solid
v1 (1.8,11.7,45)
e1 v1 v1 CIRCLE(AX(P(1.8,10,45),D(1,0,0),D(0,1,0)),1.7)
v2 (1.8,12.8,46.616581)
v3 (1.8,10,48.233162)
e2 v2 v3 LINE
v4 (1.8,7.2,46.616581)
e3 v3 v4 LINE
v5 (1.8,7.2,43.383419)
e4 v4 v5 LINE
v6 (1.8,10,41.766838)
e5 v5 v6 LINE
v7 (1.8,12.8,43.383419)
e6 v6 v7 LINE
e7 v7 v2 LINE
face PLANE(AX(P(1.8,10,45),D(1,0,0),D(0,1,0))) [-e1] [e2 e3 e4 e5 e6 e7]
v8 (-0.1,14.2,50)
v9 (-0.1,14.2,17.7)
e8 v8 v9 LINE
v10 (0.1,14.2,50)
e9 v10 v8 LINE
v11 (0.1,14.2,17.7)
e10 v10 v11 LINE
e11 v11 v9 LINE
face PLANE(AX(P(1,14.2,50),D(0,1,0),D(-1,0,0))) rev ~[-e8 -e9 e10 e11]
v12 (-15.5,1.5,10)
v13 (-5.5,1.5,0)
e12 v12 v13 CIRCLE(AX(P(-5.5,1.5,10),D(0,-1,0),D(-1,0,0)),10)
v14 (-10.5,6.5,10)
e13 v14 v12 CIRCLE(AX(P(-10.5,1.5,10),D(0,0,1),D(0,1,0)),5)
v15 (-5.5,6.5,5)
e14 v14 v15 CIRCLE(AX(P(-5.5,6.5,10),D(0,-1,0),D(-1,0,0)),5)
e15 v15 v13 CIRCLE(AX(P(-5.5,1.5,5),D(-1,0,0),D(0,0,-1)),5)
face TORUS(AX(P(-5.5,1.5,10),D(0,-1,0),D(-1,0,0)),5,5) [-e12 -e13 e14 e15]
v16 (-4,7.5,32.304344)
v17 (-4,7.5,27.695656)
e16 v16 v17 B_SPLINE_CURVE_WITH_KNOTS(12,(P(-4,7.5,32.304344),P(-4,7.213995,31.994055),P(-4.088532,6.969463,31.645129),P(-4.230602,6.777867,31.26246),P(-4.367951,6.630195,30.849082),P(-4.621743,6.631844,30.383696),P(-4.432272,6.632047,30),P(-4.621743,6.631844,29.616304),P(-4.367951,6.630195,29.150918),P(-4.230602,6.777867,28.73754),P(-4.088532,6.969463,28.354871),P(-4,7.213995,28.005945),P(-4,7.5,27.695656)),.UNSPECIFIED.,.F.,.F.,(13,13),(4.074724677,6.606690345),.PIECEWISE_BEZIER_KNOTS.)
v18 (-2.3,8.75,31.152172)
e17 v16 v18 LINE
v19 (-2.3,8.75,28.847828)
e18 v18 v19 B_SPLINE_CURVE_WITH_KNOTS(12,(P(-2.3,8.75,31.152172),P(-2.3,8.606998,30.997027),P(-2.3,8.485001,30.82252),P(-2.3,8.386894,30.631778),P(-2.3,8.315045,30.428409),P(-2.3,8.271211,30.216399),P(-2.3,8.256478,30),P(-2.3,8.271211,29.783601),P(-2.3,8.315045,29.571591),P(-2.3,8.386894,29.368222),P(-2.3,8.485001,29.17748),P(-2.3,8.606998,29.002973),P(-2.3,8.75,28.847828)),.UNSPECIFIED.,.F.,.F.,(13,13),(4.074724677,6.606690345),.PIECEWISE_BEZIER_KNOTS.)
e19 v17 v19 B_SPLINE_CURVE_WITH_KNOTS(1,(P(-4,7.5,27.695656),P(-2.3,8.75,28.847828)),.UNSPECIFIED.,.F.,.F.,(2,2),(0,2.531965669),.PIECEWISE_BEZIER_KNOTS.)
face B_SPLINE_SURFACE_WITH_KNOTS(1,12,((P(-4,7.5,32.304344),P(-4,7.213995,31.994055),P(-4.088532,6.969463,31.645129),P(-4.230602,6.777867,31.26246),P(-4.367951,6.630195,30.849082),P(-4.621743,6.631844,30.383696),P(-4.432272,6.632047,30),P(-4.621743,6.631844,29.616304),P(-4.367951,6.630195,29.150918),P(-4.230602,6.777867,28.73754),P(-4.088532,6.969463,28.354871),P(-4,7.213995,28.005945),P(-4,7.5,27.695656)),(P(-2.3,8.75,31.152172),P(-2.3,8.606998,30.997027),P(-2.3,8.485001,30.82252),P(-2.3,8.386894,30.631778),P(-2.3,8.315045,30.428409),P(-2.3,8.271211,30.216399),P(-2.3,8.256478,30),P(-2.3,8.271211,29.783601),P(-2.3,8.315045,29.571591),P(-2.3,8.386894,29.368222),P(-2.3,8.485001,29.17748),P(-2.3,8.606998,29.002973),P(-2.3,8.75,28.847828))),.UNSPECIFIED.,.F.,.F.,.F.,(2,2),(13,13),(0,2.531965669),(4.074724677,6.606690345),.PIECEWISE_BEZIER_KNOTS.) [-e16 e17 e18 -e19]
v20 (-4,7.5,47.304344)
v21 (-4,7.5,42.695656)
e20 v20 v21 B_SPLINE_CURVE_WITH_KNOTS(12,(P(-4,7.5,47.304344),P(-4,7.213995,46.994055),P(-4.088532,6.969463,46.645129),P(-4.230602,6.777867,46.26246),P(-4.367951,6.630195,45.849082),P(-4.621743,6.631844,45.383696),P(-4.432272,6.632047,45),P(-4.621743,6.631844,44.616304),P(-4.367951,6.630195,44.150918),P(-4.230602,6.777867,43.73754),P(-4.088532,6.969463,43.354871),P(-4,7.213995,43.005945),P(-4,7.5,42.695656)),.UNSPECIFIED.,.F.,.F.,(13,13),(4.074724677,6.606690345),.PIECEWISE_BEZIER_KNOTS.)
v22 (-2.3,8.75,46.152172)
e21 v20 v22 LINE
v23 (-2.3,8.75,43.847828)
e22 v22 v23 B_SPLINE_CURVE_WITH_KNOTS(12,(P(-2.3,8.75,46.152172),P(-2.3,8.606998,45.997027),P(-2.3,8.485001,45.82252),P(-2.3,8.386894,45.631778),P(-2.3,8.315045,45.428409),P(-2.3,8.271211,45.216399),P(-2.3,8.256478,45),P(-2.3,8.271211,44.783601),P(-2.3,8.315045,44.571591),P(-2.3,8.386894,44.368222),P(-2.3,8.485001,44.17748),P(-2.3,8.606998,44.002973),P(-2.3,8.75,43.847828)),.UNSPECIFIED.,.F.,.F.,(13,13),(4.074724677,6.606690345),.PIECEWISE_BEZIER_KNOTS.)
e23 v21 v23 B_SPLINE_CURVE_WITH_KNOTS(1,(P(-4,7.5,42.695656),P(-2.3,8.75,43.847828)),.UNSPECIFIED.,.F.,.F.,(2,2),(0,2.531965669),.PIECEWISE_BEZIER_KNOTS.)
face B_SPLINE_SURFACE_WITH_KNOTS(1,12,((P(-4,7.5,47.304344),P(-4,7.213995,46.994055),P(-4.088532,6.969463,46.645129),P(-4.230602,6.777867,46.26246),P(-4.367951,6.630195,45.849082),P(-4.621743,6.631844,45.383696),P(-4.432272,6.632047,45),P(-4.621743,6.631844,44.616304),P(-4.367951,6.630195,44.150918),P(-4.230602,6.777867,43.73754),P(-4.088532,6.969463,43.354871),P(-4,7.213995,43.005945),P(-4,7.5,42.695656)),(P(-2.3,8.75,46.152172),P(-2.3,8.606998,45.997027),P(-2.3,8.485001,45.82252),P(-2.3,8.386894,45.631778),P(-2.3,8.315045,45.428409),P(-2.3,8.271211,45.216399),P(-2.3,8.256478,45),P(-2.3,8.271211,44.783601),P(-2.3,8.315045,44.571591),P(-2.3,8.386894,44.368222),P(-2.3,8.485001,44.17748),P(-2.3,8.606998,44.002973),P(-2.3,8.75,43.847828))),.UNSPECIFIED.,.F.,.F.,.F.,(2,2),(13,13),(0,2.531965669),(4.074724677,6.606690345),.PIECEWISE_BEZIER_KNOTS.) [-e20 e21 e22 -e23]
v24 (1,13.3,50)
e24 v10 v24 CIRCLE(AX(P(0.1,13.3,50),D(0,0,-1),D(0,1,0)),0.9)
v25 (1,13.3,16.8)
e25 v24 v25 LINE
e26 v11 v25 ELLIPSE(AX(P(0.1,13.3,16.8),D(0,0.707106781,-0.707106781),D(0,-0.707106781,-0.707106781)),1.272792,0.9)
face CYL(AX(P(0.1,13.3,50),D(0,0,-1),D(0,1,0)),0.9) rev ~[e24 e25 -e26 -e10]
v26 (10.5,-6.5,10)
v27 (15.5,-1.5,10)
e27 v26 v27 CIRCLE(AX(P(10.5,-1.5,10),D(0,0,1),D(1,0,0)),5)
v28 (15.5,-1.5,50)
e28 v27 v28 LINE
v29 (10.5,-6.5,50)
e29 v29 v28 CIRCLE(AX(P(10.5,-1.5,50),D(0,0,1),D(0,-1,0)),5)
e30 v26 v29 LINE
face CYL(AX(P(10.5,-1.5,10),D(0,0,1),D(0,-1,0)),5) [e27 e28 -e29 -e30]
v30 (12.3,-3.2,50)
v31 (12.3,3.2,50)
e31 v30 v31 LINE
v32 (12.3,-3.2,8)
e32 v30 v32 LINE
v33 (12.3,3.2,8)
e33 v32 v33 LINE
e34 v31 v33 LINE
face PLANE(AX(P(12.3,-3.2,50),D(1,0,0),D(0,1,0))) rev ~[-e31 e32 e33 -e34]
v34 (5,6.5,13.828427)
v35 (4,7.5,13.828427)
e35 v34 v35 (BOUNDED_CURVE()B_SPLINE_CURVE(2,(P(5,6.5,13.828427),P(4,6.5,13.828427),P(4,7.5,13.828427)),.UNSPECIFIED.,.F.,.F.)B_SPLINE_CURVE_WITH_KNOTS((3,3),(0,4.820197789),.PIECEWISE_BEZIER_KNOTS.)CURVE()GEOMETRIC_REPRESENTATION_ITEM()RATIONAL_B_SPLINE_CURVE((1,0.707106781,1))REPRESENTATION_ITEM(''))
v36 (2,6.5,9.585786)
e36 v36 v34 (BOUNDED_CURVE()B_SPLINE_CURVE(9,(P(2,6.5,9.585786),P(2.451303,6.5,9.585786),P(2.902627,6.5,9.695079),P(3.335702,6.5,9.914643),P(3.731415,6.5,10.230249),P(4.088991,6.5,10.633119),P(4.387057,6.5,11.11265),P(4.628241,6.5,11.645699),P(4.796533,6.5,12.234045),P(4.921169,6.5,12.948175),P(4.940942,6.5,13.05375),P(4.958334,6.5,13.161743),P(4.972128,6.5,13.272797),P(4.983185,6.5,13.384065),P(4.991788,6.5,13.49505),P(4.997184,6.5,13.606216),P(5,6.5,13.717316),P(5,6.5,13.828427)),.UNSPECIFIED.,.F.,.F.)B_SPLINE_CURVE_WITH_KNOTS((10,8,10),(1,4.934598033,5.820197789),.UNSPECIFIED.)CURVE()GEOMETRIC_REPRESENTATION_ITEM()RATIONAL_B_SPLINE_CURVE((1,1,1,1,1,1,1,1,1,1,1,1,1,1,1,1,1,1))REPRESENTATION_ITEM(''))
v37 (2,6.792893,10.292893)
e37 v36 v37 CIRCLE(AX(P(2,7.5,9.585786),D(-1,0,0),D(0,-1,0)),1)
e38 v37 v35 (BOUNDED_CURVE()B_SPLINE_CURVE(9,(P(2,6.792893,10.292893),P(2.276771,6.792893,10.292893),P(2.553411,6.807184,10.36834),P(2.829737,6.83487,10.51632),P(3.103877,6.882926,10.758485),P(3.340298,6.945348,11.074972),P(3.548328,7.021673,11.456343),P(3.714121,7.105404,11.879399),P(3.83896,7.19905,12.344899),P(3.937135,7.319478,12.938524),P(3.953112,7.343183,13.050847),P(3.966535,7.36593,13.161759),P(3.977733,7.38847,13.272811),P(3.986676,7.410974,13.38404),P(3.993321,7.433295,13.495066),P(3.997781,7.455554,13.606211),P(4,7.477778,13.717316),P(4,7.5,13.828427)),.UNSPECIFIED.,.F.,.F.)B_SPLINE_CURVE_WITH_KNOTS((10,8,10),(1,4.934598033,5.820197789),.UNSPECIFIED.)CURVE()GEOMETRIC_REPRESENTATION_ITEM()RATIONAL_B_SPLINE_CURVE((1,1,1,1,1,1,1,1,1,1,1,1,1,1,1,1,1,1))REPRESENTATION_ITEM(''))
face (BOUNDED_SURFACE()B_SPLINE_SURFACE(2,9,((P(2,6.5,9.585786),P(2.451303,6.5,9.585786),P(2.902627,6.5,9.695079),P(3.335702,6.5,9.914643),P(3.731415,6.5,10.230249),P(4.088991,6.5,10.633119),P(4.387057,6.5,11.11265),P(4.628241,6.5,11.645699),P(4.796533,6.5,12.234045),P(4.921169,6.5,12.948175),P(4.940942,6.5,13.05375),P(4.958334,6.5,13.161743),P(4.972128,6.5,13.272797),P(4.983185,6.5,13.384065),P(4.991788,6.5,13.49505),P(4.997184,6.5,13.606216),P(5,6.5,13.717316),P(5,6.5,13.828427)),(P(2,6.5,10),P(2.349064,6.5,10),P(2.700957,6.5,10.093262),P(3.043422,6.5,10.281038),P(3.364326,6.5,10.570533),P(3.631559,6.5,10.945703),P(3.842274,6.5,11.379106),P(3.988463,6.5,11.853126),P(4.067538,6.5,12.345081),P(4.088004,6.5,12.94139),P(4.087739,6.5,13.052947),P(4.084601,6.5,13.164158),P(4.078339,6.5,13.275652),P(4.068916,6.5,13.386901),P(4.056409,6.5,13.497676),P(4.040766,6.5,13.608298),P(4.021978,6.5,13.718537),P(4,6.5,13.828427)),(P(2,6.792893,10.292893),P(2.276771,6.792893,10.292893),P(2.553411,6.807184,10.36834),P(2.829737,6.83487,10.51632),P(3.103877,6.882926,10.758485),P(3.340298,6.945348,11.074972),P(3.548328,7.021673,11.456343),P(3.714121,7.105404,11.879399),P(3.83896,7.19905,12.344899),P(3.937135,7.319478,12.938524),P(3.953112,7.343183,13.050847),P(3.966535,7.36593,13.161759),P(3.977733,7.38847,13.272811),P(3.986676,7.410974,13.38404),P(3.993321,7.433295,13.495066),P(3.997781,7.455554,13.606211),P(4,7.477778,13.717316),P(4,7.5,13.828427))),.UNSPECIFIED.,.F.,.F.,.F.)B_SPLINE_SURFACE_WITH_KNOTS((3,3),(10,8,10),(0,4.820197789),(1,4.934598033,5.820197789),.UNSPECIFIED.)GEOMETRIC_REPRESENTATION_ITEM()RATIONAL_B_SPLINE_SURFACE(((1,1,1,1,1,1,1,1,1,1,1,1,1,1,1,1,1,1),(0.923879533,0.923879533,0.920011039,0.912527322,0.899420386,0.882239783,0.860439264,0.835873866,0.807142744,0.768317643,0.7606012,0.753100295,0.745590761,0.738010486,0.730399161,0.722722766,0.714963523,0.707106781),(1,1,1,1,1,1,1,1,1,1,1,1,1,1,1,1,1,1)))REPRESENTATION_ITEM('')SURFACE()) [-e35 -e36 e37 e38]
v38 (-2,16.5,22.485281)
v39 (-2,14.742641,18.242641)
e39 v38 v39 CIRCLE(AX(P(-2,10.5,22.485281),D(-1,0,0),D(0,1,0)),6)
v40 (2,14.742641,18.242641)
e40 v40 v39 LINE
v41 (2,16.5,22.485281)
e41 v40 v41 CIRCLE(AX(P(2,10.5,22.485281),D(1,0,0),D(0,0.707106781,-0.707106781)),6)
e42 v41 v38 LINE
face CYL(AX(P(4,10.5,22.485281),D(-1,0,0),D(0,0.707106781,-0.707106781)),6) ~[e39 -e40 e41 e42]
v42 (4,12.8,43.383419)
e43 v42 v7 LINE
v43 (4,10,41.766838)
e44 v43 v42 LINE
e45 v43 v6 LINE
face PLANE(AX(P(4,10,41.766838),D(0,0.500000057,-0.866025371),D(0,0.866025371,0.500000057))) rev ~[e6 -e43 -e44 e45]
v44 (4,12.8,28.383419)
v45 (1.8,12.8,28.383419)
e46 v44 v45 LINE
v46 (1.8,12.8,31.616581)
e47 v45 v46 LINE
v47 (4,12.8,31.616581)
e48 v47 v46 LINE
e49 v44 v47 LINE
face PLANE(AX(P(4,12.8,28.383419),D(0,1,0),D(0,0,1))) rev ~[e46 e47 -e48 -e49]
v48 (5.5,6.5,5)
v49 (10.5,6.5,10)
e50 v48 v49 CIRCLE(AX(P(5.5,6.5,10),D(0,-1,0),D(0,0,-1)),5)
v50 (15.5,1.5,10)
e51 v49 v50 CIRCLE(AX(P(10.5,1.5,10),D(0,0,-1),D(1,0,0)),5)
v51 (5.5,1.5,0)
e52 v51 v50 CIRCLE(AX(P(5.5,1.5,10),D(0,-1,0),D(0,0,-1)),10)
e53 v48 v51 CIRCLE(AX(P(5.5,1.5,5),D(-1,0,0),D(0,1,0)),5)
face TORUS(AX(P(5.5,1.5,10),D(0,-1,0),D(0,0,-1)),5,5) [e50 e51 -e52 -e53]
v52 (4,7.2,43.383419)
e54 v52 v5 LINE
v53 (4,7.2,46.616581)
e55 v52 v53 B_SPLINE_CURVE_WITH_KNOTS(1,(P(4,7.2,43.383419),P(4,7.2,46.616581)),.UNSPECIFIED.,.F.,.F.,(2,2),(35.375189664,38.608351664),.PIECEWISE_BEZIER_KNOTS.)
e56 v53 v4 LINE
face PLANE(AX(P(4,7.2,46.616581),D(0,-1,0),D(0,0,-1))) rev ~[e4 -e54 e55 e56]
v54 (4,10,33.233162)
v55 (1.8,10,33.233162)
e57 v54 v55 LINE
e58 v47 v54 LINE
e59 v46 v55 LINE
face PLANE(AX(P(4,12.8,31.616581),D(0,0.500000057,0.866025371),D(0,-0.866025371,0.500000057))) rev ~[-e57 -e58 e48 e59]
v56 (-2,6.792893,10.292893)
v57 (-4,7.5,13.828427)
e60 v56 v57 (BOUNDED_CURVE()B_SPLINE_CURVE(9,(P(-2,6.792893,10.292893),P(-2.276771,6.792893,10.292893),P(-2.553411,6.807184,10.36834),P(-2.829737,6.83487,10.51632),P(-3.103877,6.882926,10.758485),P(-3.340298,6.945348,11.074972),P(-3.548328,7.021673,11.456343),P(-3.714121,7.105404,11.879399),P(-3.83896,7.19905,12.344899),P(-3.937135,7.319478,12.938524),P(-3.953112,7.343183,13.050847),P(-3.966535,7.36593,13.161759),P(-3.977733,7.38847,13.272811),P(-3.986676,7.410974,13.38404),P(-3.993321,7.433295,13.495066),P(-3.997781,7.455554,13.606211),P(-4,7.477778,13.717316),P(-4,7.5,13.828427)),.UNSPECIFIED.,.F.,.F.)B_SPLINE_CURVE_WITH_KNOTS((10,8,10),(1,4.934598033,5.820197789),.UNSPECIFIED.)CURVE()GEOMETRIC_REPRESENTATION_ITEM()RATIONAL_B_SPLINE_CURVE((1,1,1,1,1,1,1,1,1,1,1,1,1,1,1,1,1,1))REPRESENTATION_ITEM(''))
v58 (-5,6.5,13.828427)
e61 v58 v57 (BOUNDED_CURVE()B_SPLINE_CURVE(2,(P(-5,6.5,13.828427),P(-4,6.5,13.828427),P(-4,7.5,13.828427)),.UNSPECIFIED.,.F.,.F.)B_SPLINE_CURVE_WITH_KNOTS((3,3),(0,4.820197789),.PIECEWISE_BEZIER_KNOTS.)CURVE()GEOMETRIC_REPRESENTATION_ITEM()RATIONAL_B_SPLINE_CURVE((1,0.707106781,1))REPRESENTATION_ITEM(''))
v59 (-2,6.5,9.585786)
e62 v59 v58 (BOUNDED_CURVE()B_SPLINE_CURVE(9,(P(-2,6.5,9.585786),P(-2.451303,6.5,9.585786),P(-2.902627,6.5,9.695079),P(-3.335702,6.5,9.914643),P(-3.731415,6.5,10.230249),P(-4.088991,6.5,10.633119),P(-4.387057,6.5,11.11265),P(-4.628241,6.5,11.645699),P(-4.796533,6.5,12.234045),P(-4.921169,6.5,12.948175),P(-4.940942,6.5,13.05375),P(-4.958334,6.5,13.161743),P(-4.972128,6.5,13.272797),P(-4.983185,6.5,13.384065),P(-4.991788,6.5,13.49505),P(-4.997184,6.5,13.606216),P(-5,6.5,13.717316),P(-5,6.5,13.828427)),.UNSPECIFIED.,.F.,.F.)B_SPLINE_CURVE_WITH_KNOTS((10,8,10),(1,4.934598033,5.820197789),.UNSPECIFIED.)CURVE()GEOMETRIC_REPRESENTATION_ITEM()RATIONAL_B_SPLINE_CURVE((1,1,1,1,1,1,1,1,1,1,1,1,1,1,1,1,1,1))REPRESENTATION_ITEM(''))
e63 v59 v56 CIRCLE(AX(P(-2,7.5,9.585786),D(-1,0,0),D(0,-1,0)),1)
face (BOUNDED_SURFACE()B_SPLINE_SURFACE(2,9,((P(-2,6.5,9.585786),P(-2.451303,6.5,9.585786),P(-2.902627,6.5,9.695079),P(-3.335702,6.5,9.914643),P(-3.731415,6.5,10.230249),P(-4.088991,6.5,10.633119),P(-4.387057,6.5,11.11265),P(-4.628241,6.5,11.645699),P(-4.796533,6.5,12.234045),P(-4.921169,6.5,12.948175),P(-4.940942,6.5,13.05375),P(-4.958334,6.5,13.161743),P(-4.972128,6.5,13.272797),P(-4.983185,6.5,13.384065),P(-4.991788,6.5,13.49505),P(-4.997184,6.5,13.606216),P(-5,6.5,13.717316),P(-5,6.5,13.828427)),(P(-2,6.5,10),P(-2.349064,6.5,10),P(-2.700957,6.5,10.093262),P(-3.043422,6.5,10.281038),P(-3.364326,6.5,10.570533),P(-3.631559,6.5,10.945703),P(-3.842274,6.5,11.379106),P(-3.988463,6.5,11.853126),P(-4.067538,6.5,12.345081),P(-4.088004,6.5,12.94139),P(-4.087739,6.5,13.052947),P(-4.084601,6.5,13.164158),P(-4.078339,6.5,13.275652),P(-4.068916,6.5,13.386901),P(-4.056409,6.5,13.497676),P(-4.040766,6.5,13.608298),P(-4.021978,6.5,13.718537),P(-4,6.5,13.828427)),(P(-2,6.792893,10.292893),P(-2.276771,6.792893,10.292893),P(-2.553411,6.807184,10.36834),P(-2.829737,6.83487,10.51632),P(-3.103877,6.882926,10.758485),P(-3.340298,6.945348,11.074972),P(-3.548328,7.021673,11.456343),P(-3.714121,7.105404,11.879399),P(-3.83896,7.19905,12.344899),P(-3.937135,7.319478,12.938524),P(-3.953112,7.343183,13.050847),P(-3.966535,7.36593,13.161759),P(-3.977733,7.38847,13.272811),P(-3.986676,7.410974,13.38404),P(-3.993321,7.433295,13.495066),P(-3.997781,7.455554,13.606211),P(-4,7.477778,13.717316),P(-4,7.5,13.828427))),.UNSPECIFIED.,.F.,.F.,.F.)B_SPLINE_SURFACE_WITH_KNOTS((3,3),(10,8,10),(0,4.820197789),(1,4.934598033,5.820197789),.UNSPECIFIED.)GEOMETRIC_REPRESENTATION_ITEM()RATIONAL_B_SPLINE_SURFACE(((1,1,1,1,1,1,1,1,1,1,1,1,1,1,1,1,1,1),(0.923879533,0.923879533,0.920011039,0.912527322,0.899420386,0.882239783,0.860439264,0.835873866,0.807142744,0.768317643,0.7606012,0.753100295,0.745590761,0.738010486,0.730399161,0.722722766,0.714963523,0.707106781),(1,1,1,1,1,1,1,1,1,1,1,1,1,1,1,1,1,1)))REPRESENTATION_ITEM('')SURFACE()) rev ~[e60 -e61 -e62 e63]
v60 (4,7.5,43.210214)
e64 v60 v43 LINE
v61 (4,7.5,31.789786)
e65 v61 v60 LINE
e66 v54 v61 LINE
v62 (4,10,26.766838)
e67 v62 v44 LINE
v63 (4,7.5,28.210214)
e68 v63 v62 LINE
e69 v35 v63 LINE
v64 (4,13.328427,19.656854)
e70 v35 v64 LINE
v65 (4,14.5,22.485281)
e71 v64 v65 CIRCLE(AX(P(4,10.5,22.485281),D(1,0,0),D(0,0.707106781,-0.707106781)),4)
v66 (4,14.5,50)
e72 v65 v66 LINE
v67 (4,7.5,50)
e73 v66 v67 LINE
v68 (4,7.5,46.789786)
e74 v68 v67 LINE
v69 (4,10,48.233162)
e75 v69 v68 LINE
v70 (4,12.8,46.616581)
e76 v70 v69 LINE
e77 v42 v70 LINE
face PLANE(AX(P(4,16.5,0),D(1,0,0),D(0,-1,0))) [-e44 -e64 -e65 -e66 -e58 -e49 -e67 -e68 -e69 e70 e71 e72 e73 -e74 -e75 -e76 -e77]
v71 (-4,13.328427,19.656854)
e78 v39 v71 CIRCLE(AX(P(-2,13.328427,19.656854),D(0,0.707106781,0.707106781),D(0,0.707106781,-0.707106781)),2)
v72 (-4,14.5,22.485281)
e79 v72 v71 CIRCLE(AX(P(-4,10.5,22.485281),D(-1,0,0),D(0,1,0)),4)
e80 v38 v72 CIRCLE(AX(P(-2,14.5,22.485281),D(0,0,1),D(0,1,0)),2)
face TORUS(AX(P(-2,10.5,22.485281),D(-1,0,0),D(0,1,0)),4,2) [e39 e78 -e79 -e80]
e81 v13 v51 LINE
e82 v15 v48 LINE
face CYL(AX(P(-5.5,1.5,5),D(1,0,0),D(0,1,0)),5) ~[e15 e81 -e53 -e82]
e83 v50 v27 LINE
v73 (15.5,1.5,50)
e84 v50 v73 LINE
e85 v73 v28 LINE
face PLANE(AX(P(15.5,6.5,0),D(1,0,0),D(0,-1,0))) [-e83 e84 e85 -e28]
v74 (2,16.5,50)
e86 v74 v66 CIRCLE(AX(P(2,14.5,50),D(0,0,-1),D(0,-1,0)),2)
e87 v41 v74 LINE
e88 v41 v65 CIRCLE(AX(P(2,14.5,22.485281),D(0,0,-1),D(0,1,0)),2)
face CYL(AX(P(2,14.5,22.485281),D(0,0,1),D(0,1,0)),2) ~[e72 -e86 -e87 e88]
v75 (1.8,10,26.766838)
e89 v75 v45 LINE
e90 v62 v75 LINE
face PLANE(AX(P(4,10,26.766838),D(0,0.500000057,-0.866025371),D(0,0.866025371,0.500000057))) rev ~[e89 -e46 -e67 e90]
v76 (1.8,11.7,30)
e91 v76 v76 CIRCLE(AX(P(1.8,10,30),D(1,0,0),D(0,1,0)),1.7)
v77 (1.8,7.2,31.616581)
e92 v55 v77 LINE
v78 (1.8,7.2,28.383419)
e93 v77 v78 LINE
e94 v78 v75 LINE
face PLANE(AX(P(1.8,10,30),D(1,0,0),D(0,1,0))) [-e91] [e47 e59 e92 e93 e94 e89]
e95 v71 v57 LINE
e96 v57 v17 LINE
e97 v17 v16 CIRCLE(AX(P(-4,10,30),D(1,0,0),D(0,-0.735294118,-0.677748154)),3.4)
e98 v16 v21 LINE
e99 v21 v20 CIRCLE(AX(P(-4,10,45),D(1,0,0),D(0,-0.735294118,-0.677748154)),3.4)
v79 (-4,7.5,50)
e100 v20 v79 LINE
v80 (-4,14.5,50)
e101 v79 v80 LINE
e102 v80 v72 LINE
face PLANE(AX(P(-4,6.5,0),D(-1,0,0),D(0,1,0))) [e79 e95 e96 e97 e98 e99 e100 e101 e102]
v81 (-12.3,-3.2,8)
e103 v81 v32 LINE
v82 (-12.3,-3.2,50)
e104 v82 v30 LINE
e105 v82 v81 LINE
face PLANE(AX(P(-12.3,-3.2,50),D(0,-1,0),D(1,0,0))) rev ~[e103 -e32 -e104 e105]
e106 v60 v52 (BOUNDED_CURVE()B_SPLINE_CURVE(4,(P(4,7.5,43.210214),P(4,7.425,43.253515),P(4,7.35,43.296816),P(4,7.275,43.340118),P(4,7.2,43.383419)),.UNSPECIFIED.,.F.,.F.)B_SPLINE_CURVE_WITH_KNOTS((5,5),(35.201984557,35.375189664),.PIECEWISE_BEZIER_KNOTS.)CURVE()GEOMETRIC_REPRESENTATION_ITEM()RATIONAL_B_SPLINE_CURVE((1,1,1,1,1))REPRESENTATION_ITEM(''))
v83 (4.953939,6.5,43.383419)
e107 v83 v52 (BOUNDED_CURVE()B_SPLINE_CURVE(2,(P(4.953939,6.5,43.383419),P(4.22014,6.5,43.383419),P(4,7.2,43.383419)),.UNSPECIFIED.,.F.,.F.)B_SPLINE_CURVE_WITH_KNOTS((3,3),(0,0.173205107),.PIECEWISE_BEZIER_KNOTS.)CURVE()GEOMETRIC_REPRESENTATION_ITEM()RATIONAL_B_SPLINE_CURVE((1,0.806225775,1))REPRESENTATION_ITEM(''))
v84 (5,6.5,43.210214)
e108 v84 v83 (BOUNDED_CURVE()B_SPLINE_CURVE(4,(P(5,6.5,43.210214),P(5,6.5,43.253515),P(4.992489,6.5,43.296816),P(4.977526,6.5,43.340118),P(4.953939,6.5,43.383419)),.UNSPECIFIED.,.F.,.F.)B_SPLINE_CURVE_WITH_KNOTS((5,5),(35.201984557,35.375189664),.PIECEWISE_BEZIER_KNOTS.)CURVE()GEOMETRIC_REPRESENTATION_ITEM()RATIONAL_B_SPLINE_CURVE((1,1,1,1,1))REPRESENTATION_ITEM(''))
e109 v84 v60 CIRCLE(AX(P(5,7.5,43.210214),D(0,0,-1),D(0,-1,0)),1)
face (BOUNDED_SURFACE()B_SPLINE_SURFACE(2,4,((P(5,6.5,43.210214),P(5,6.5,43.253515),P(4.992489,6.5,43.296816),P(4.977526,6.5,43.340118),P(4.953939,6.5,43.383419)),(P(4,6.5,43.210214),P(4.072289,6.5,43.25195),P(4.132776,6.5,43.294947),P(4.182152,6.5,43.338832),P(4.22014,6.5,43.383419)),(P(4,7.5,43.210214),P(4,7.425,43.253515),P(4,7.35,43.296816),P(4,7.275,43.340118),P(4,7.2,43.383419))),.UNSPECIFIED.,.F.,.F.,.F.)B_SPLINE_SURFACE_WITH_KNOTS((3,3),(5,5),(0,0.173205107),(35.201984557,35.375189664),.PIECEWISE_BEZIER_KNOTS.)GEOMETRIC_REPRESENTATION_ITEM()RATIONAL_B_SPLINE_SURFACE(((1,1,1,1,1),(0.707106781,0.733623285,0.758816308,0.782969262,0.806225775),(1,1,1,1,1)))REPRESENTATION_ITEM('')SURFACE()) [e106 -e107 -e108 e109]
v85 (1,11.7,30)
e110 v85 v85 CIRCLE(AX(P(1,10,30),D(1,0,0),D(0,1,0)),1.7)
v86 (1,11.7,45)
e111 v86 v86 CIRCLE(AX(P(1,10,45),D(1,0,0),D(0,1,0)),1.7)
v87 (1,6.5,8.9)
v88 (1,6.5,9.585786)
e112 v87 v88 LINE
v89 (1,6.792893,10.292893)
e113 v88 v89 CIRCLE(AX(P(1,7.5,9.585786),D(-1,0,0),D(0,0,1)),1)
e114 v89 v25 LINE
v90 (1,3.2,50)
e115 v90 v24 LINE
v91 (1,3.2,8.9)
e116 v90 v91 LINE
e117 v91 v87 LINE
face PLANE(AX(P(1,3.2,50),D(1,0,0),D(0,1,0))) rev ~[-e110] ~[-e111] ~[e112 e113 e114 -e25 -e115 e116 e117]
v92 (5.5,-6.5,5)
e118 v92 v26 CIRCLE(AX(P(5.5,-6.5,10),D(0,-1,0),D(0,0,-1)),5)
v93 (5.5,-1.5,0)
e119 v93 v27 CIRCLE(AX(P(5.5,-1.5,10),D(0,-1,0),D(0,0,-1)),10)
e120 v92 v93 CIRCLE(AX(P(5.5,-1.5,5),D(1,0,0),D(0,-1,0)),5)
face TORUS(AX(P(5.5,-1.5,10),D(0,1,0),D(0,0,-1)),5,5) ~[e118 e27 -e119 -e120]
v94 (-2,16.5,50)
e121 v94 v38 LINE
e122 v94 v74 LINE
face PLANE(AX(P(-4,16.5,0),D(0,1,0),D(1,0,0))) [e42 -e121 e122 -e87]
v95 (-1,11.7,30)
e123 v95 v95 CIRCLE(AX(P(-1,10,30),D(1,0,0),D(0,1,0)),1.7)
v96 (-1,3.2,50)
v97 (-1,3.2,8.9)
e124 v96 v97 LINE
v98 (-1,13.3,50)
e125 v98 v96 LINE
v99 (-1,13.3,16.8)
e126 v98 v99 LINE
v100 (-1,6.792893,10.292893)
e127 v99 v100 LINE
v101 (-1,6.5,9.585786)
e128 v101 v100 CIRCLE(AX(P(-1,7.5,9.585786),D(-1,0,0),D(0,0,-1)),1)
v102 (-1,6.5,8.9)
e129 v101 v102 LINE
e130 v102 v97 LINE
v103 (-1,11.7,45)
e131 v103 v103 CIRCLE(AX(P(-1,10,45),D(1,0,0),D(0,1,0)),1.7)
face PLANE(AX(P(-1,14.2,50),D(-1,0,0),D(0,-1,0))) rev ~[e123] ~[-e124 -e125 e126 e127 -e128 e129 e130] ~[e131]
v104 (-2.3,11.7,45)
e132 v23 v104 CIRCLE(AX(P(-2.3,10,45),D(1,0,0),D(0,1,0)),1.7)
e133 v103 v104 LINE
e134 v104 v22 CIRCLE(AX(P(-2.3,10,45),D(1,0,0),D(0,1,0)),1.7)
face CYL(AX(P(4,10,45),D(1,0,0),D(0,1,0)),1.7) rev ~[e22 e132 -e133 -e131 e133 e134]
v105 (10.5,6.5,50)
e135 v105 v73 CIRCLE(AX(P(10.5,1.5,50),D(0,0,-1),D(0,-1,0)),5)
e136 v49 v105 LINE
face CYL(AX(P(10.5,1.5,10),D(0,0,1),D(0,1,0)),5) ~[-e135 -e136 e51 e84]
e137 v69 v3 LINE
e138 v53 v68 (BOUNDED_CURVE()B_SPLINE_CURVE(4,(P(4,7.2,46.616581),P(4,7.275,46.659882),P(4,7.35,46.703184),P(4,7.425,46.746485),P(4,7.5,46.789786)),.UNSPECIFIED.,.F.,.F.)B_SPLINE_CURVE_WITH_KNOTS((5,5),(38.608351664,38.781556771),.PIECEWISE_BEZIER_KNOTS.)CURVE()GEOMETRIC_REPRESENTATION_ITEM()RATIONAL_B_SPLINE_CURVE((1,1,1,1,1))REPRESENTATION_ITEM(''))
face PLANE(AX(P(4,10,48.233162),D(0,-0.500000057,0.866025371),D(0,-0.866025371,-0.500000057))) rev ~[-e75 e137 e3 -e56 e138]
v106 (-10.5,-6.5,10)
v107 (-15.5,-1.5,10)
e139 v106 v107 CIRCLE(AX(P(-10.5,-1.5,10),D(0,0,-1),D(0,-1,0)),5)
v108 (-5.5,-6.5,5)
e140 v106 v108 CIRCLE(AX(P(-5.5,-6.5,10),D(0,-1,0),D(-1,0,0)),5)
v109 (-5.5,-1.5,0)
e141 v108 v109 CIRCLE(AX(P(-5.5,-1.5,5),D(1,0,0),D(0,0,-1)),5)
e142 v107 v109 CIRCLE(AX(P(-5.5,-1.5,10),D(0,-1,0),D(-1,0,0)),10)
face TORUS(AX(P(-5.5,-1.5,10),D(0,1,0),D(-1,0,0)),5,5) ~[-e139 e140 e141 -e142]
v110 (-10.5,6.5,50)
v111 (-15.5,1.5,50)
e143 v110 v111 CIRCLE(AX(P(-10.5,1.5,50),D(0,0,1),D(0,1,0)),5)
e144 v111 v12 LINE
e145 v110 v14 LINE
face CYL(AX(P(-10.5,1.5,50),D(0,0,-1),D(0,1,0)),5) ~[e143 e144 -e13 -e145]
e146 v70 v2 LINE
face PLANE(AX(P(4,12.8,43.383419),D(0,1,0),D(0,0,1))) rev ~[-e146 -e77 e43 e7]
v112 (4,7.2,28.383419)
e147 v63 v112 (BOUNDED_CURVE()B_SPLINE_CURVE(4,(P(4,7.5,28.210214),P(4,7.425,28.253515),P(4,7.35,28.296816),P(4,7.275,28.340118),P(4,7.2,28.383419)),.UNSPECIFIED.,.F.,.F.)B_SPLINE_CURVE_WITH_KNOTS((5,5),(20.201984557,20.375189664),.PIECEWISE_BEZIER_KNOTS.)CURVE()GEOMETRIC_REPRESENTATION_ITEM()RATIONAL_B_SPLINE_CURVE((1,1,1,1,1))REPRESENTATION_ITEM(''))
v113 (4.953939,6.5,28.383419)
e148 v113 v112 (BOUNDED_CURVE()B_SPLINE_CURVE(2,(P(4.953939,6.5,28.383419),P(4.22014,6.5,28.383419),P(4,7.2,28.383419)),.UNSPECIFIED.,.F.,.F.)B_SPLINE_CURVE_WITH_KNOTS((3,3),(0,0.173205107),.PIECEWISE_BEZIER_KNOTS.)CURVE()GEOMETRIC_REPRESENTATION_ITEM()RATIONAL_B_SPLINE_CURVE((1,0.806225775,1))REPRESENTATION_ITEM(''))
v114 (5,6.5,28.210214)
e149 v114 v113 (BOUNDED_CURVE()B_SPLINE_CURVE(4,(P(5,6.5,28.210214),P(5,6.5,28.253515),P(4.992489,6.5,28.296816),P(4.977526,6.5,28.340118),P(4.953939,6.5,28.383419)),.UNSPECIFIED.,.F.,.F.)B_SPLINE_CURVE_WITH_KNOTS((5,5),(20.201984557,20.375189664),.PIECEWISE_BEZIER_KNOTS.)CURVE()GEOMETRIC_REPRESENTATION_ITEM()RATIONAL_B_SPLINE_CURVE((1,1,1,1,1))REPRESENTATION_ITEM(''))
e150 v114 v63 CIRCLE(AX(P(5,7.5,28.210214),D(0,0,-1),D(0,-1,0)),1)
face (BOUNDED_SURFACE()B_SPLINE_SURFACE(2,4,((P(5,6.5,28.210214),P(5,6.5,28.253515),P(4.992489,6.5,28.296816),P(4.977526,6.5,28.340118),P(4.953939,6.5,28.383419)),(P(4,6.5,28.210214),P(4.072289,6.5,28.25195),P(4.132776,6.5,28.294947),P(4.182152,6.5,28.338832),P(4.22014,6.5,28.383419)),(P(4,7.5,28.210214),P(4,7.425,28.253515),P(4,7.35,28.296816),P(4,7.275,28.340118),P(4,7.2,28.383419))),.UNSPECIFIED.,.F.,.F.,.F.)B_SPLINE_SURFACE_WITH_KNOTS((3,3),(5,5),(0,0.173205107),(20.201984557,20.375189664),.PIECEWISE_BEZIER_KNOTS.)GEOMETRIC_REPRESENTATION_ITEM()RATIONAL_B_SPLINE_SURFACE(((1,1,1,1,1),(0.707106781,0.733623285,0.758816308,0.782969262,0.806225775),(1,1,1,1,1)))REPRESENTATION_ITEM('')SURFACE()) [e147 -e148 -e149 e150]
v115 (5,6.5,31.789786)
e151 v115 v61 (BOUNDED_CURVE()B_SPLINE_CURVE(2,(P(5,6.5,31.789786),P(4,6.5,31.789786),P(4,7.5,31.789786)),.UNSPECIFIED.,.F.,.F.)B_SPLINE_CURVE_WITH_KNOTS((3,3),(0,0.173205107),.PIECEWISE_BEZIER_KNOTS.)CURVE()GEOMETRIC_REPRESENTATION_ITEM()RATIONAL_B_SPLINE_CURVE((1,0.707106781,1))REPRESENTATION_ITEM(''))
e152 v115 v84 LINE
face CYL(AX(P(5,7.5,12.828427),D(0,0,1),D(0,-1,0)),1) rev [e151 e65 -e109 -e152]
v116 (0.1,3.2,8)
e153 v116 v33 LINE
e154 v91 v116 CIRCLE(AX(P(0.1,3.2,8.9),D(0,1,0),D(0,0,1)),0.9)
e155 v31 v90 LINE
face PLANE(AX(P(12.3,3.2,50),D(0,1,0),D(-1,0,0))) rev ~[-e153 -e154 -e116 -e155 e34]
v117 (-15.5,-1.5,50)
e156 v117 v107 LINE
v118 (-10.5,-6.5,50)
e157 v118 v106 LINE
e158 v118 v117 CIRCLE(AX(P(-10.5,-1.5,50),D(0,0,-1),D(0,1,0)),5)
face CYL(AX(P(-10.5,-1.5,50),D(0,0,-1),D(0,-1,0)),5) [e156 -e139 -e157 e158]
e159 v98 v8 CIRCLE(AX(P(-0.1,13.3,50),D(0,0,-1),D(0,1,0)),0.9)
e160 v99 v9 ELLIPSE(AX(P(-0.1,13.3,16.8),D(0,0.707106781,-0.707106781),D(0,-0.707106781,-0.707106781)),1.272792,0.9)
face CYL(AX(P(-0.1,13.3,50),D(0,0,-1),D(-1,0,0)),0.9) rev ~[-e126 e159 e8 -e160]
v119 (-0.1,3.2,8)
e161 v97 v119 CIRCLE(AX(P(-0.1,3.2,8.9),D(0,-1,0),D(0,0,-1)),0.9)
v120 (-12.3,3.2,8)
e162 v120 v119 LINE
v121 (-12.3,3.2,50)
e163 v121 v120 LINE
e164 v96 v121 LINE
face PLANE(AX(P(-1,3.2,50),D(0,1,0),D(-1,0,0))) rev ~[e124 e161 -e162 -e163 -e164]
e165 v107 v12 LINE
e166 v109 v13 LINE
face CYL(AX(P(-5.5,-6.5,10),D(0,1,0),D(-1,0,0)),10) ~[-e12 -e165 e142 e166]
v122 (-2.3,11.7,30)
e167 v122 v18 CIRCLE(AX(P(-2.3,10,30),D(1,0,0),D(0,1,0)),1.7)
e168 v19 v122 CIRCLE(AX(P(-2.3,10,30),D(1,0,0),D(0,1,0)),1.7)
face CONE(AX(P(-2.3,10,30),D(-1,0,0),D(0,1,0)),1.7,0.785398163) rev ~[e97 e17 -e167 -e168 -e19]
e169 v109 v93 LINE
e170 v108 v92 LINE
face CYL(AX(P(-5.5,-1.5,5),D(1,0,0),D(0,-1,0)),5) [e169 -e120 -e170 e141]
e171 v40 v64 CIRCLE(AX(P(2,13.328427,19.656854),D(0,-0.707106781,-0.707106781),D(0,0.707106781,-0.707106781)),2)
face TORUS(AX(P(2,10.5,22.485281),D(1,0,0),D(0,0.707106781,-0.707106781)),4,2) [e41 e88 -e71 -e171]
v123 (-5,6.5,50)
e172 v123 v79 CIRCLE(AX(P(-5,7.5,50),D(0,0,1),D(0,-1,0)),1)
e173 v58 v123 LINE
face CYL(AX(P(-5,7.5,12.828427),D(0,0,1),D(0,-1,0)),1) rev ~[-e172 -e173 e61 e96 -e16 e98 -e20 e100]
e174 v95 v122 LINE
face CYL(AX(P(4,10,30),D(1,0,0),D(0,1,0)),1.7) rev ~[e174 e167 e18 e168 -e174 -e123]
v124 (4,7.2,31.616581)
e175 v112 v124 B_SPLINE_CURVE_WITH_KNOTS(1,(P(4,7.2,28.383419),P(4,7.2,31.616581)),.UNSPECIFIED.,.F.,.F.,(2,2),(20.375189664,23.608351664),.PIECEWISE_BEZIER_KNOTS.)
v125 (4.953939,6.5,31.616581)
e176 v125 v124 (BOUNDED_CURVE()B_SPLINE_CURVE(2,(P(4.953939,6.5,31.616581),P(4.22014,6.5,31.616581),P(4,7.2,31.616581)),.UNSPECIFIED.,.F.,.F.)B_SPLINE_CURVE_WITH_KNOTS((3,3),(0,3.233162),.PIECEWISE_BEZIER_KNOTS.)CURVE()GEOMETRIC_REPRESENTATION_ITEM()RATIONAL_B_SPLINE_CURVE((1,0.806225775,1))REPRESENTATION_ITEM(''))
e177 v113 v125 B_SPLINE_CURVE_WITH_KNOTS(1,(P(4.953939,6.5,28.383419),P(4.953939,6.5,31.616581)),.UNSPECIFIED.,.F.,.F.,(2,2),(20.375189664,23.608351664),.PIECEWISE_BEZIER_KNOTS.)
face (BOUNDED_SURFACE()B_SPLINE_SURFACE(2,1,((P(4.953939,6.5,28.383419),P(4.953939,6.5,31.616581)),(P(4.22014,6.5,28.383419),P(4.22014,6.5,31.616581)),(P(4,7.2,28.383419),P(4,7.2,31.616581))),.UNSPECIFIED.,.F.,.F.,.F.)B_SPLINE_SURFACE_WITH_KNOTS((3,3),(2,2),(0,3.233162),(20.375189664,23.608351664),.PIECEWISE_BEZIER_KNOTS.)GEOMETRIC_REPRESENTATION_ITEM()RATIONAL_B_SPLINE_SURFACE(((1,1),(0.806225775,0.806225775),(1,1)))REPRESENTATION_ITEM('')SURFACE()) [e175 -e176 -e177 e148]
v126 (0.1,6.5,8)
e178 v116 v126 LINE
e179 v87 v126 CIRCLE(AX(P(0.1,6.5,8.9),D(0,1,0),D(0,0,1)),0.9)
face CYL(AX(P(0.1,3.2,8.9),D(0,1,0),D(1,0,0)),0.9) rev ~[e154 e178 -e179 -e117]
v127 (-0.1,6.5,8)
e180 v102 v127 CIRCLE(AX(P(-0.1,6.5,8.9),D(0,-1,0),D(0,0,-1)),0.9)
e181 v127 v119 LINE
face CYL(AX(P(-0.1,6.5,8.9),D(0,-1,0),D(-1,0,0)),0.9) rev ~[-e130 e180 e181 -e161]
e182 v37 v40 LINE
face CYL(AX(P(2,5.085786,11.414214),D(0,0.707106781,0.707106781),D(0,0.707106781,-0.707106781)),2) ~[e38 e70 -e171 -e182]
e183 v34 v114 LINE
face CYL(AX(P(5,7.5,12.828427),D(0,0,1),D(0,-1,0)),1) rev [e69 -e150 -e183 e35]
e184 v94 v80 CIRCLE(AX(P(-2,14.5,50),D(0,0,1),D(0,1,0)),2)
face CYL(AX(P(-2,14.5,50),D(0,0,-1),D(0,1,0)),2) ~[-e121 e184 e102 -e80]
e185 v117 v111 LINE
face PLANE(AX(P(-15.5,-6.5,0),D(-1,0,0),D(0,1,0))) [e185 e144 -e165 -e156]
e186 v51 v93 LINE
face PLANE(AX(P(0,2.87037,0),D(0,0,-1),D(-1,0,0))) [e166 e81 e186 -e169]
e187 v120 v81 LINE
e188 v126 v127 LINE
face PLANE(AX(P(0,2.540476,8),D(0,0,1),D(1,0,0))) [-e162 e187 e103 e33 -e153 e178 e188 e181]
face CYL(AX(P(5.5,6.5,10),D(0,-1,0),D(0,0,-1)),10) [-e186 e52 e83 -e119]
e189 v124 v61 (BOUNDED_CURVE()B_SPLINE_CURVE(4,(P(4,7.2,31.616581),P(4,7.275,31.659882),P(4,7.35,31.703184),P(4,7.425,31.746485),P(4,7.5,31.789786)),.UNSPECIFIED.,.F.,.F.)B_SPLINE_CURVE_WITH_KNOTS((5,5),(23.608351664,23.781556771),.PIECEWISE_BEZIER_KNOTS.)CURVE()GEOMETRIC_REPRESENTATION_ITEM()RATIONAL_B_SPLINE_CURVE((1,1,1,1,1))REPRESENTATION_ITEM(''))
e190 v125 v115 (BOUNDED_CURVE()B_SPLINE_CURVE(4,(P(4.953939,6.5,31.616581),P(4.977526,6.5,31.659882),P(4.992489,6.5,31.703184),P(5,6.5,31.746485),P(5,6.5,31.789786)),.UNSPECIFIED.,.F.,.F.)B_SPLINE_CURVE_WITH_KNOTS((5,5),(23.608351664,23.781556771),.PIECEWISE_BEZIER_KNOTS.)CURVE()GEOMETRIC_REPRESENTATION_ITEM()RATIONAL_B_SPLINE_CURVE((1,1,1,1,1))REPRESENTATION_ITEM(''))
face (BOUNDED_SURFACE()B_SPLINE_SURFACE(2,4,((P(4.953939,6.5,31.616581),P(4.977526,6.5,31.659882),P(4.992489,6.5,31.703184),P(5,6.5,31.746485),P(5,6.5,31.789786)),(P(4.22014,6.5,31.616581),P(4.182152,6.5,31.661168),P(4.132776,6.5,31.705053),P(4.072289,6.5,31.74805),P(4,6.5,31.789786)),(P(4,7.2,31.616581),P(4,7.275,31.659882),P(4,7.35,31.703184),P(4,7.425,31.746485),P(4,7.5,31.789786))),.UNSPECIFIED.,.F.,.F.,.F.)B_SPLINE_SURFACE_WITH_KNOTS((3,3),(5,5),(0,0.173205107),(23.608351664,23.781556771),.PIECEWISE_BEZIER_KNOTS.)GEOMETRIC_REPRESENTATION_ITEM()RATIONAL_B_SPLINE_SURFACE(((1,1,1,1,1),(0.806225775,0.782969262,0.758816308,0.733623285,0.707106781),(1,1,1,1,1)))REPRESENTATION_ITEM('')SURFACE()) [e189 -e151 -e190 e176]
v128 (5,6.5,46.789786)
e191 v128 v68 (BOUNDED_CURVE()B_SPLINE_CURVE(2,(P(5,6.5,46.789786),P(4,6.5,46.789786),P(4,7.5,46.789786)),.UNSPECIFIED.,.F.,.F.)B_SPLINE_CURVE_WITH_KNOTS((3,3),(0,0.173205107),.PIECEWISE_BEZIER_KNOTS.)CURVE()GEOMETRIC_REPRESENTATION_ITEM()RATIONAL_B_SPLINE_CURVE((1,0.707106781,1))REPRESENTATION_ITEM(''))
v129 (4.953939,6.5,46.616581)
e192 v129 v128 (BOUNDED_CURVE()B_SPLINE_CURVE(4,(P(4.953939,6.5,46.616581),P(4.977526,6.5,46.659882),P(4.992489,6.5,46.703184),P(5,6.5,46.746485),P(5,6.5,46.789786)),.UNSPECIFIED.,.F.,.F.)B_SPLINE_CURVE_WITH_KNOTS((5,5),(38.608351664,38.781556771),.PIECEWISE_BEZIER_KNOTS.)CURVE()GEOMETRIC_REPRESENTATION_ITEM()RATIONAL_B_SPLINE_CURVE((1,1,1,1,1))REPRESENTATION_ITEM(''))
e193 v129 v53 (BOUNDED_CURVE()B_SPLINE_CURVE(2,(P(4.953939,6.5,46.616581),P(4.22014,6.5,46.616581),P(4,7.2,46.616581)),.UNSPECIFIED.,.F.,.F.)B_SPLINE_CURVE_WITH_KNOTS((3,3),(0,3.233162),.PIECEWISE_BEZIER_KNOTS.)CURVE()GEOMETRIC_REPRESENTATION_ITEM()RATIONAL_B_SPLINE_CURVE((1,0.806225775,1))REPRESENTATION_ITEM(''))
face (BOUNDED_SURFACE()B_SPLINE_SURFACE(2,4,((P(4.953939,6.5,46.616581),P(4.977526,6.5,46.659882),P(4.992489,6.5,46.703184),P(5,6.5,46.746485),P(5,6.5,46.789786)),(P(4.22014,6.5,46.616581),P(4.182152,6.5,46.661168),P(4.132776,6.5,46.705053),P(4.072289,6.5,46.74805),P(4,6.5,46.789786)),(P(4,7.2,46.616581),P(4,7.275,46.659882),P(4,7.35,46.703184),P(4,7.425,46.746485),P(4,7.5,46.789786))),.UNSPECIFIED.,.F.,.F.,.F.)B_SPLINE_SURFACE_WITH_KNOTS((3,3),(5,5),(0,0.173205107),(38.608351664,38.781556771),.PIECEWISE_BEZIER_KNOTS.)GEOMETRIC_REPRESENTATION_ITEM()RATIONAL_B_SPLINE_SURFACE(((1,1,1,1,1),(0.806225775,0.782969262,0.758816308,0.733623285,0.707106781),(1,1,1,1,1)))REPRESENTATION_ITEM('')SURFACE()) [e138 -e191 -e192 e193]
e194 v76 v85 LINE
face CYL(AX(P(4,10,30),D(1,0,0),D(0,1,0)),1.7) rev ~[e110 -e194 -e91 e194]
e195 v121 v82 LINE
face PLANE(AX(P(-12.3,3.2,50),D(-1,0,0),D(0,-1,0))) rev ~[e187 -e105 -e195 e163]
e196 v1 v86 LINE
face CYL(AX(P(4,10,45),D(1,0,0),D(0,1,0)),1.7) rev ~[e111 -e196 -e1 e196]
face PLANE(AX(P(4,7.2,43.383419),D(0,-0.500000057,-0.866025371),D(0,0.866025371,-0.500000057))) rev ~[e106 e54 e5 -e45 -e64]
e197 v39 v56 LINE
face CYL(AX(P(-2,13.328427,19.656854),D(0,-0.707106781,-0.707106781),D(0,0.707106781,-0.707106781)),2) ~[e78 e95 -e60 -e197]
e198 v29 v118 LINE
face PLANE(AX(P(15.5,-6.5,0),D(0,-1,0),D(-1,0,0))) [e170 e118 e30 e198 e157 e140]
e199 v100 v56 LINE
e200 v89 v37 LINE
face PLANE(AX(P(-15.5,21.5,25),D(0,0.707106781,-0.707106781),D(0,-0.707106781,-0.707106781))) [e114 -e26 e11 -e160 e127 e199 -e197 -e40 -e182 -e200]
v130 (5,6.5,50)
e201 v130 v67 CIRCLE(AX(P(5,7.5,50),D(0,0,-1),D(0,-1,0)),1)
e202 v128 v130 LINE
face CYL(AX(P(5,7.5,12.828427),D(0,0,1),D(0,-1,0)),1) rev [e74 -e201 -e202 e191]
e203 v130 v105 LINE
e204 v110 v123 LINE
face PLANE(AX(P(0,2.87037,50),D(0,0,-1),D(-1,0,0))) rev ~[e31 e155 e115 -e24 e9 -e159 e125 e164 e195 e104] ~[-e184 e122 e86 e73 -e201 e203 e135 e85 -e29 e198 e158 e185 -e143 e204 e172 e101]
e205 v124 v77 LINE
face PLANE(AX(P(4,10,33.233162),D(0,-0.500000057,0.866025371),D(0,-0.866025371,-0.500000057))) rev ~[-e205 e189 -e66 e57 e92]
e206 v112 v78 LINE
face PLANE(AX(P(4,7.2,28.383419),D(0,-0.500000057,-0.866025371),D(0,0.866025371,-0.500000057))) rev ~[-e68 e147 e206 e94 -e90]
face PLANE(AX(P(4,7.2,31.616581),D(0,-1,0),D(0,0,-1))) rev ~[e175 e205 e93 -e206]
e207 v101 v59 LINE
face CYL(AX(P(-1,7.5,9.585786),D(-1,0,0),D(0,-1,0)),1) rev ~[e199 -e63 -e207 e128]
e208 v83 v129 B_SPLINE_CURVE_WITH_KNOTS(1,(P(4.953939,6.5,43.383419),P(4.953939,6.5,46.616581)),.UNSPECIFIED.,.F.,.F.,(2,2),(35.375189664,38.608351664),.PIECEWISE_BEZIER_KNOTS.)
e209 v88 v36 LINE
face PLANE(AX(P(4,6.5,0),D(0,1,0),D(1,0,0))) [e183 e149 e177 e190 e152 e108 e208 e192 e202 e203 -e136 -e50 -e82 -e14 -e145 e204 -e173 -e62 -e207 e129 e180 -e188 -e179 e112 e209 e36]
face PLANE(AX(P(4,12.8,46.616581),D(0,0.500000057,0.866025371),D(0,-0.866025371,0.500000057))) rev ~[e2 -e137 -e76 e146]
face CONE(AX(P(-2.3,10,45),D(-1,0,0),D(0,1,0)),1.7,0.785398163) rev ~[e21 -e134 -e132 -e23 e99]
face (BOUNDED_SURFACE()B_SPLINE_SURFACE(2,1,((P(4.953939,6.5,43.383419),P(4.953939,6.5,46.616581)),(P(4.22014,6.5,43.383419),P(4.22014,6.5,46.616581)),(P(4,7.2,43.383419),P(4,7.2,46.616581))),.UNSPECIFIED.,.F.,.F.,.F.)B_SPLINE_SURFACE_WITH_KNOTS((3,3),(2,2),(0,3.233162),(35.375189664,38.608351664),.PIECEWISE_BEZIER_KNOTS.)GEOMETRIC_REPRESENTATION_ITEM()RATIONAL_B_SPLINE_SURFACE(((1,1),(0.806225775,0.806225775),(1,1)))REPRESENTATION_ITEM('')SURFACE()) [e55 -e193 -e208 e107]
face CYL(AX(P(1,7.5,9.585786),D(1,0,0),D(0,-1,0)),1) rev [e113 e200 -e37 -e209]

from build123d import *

# Parameters (mm, degrees)
PAD_DEPTH       = 50
POCKET_DEPTH    = 42
POCKET001_DEPTH = 31.001
SKETCH003_R     = 1.7
POCKET002_DEPTH = 19.501
POCKET003_DEPTH = 2.2
FILLET_R        = 6
FILLET001_R     = 2
FILLET002_R     = 2
FILLET003_R     = 1
FILLET004_R     = 1
FILLET005_R     = 10
FILLET006_R     = 10
FILLET007_R     = 5
FILLET008_R     = 5
FILLET009_R     = 0.9
FILLET010_R     = 0.9
FILLET011_R     = 0.9
FILLET012_R     = 0.9
CHAMFER_SIZE    = 1.7
CHAMFER001_SIZE = 1.7


with BuildPart() as part:
    # Sketch → Pad (new body)
    with BuildSketch(Plane.XY):
        Polygon((15.5, 6.5), (15.5, -6.5), (-15.5, -6.5), (-15.5, 6.5), (-4, 6.5), (-4, 16.5), (4, 16.5), (4, 6.5), align=None)
    extrude(amount=PAD_DEPTH)

    # Sketch001 → Pocket (cut)
    with BuildSketch(Plane.XY.offset(50)):
        Polygon((-12.3, 3.2), (-12.3, -3.2), (12.3, -3.2), (12.3, 3.2), (1, 3.2), (1, 14.2), (-1, 14.2), (-1, 3.2), align=None)
    extrude(amount=-POCKET_DEPTH, mode=Mode.SUBTRACT)

    # Sketch002 → Pocket001 (cut, through all)
    with BuildSketch(Plane(origin=(-15.5, 0, 0), x_dir=(0, -1, 0), z_dir=(-1, 0, 0))):
        Polygon((-21.5, 25), (-6.5, 10), (-6.5, 0), (-21.5, 0), align=None)
    extrude(amount=-POCKET001_DEPTH, mode=Mode.SUBTRACT)

    # Sketch003 → Pocket002 (cut, through all)
    with BuildSketch(Plane.YZ.offset(4)):
        with Locations((10, 45)):
            Circle(SKETCH003_R)
        with Locations((10, 30)):
            Circle(SKETCH003_R)
    extrude(amount=-POCKET002_DEPTH, mode=Mode.SUBTRACT)

    # Sketch004 → Pocket003 (cut)
    with BuildSketch(Plane.YZ.offset(4)):
        Polygon((10, 48.233162), (7.2, 46.616581), (7.2, 43.383419), (10, 41.766838), (12.8, 43.383419), (12.8, 46.616581), align=None)
        Polygon((10, 33.233162), (7.2, 31.616581), (7.2, 28.383419), (10, 26.766838), (12.8, 28.383419), (12.8, 31.616581), align=None)
    extrude(amount=-POCKET003_DEPTH, mode=Mode.SUBTRACT)

    # Fillet
    fillet_edges = [part.edges().sort_by_distance(p)[0] for p in [
        (0, 16.5, 20),
    ]]
    fillet(fillet_edges, radius=FILLET_R)

    # Fillet001
    fillet001_edges = [part.edges().sort_by_distance(p)[0] for p in [
        (4, 10.62132, 14.12132),
    ]]
    fillet(fillet001_edges, radius=FILLET001_R)

    # Fillet002
    fillet002_edges = [part.edges().sort_by_distance(p)[0] for p in [
        (-4, 10.62132, 14.12132),
    ]]
    fillet(fillet002_edges, radius=FILLET002_R)

    # Fillet003
    fillet003_edges = [part.edges().sort_by_distance(p)[0] for p in [
        (4, 6.5, 31.414214),
    ]]
    fillet(fillet003_edges, radius=FILLET003_R)

    # Fillet004
    fillet004_edges = [part.edges().sort_by_distance(p)[0] for p in [
        (-4, 6.5, 31.414214),
    ]]
    fillet(fillet004_edges, radius=FILLET004_R)

    # Fillet005
    fillet005_edges = [part.edges().sort_by_distance(p)[0] for p in [
        (-15.5, 0, 0),
    ]]
    fillet(fillet005_edges, radius=FILLET005_R)

    # Fillet006
    fillet006_edges = [part.edges().sort_by_distance(p)[0] for p in [
        (15.5, 0, 0),
    ]]
    fillet(fillet006_edges, radius=FILLET006_R)

    # Fillet007
    fillet007_edges = [part.edges().sort_by_distance(p)[0] for p in [
        (15.5, 6.5, 30),
    ]]
    fillet(fillet007_edges, radius=FILLET007_R)

    # Fillet008
    fillet008_edges = [part.edges().sort_by_distance(p)[0] for p in [
        (15.5, -6.5, 30),
    ]]
    fillet(fillet008_edges, radius=FILLET008_R)

    # Fillet009
    fillet009_edges = [part.edges().sort_by_distance(p)[0] for p in [
        (-1, 14.2, 33.85),
    ]]
    fillet(fillet009_edges, radius=FILLET009_R)

    # Fillet010
    fillet010_edges = [part.edges().sort_by_distance(p)[0] for p in [
        (1, 14.2, 33.85),
    ]]
    fillet(fillet010_edges, radius=FILLET010_R)

    # Fillet011
    fillet011_edges = [part.edges().sort_by_distance(p)[0] for p in [
        (1, 4.85, 8),
    ]]
    fillet(fillet011_edges, radius=FILLET011_R)

    # Fillet012
    fillet012_edges = [part.edges().sort_by_distance(p)[0] for p in [
        (-1, 4.85, 8),
    ]]
    fillet(fillet012_edges, radius=FILLET012_R)

    # Chamfer
    chamfer_edges = [part.edges().sort_by_distance(p)[0] for p in [
        (-4, 8.3, 30),
    ]]
    chamfer(chamfer_edges, length=CHAMFER_SIZE)

    # Chamfer001
    chamfer001_edges = [part.edges().sort_by_distance(p)[0] for p in [
        (-4, 8.3, 45),
    ]]
    chamfer(chamfer001_edges, length=CHAMFER001_SIZE)


solid = part.part
